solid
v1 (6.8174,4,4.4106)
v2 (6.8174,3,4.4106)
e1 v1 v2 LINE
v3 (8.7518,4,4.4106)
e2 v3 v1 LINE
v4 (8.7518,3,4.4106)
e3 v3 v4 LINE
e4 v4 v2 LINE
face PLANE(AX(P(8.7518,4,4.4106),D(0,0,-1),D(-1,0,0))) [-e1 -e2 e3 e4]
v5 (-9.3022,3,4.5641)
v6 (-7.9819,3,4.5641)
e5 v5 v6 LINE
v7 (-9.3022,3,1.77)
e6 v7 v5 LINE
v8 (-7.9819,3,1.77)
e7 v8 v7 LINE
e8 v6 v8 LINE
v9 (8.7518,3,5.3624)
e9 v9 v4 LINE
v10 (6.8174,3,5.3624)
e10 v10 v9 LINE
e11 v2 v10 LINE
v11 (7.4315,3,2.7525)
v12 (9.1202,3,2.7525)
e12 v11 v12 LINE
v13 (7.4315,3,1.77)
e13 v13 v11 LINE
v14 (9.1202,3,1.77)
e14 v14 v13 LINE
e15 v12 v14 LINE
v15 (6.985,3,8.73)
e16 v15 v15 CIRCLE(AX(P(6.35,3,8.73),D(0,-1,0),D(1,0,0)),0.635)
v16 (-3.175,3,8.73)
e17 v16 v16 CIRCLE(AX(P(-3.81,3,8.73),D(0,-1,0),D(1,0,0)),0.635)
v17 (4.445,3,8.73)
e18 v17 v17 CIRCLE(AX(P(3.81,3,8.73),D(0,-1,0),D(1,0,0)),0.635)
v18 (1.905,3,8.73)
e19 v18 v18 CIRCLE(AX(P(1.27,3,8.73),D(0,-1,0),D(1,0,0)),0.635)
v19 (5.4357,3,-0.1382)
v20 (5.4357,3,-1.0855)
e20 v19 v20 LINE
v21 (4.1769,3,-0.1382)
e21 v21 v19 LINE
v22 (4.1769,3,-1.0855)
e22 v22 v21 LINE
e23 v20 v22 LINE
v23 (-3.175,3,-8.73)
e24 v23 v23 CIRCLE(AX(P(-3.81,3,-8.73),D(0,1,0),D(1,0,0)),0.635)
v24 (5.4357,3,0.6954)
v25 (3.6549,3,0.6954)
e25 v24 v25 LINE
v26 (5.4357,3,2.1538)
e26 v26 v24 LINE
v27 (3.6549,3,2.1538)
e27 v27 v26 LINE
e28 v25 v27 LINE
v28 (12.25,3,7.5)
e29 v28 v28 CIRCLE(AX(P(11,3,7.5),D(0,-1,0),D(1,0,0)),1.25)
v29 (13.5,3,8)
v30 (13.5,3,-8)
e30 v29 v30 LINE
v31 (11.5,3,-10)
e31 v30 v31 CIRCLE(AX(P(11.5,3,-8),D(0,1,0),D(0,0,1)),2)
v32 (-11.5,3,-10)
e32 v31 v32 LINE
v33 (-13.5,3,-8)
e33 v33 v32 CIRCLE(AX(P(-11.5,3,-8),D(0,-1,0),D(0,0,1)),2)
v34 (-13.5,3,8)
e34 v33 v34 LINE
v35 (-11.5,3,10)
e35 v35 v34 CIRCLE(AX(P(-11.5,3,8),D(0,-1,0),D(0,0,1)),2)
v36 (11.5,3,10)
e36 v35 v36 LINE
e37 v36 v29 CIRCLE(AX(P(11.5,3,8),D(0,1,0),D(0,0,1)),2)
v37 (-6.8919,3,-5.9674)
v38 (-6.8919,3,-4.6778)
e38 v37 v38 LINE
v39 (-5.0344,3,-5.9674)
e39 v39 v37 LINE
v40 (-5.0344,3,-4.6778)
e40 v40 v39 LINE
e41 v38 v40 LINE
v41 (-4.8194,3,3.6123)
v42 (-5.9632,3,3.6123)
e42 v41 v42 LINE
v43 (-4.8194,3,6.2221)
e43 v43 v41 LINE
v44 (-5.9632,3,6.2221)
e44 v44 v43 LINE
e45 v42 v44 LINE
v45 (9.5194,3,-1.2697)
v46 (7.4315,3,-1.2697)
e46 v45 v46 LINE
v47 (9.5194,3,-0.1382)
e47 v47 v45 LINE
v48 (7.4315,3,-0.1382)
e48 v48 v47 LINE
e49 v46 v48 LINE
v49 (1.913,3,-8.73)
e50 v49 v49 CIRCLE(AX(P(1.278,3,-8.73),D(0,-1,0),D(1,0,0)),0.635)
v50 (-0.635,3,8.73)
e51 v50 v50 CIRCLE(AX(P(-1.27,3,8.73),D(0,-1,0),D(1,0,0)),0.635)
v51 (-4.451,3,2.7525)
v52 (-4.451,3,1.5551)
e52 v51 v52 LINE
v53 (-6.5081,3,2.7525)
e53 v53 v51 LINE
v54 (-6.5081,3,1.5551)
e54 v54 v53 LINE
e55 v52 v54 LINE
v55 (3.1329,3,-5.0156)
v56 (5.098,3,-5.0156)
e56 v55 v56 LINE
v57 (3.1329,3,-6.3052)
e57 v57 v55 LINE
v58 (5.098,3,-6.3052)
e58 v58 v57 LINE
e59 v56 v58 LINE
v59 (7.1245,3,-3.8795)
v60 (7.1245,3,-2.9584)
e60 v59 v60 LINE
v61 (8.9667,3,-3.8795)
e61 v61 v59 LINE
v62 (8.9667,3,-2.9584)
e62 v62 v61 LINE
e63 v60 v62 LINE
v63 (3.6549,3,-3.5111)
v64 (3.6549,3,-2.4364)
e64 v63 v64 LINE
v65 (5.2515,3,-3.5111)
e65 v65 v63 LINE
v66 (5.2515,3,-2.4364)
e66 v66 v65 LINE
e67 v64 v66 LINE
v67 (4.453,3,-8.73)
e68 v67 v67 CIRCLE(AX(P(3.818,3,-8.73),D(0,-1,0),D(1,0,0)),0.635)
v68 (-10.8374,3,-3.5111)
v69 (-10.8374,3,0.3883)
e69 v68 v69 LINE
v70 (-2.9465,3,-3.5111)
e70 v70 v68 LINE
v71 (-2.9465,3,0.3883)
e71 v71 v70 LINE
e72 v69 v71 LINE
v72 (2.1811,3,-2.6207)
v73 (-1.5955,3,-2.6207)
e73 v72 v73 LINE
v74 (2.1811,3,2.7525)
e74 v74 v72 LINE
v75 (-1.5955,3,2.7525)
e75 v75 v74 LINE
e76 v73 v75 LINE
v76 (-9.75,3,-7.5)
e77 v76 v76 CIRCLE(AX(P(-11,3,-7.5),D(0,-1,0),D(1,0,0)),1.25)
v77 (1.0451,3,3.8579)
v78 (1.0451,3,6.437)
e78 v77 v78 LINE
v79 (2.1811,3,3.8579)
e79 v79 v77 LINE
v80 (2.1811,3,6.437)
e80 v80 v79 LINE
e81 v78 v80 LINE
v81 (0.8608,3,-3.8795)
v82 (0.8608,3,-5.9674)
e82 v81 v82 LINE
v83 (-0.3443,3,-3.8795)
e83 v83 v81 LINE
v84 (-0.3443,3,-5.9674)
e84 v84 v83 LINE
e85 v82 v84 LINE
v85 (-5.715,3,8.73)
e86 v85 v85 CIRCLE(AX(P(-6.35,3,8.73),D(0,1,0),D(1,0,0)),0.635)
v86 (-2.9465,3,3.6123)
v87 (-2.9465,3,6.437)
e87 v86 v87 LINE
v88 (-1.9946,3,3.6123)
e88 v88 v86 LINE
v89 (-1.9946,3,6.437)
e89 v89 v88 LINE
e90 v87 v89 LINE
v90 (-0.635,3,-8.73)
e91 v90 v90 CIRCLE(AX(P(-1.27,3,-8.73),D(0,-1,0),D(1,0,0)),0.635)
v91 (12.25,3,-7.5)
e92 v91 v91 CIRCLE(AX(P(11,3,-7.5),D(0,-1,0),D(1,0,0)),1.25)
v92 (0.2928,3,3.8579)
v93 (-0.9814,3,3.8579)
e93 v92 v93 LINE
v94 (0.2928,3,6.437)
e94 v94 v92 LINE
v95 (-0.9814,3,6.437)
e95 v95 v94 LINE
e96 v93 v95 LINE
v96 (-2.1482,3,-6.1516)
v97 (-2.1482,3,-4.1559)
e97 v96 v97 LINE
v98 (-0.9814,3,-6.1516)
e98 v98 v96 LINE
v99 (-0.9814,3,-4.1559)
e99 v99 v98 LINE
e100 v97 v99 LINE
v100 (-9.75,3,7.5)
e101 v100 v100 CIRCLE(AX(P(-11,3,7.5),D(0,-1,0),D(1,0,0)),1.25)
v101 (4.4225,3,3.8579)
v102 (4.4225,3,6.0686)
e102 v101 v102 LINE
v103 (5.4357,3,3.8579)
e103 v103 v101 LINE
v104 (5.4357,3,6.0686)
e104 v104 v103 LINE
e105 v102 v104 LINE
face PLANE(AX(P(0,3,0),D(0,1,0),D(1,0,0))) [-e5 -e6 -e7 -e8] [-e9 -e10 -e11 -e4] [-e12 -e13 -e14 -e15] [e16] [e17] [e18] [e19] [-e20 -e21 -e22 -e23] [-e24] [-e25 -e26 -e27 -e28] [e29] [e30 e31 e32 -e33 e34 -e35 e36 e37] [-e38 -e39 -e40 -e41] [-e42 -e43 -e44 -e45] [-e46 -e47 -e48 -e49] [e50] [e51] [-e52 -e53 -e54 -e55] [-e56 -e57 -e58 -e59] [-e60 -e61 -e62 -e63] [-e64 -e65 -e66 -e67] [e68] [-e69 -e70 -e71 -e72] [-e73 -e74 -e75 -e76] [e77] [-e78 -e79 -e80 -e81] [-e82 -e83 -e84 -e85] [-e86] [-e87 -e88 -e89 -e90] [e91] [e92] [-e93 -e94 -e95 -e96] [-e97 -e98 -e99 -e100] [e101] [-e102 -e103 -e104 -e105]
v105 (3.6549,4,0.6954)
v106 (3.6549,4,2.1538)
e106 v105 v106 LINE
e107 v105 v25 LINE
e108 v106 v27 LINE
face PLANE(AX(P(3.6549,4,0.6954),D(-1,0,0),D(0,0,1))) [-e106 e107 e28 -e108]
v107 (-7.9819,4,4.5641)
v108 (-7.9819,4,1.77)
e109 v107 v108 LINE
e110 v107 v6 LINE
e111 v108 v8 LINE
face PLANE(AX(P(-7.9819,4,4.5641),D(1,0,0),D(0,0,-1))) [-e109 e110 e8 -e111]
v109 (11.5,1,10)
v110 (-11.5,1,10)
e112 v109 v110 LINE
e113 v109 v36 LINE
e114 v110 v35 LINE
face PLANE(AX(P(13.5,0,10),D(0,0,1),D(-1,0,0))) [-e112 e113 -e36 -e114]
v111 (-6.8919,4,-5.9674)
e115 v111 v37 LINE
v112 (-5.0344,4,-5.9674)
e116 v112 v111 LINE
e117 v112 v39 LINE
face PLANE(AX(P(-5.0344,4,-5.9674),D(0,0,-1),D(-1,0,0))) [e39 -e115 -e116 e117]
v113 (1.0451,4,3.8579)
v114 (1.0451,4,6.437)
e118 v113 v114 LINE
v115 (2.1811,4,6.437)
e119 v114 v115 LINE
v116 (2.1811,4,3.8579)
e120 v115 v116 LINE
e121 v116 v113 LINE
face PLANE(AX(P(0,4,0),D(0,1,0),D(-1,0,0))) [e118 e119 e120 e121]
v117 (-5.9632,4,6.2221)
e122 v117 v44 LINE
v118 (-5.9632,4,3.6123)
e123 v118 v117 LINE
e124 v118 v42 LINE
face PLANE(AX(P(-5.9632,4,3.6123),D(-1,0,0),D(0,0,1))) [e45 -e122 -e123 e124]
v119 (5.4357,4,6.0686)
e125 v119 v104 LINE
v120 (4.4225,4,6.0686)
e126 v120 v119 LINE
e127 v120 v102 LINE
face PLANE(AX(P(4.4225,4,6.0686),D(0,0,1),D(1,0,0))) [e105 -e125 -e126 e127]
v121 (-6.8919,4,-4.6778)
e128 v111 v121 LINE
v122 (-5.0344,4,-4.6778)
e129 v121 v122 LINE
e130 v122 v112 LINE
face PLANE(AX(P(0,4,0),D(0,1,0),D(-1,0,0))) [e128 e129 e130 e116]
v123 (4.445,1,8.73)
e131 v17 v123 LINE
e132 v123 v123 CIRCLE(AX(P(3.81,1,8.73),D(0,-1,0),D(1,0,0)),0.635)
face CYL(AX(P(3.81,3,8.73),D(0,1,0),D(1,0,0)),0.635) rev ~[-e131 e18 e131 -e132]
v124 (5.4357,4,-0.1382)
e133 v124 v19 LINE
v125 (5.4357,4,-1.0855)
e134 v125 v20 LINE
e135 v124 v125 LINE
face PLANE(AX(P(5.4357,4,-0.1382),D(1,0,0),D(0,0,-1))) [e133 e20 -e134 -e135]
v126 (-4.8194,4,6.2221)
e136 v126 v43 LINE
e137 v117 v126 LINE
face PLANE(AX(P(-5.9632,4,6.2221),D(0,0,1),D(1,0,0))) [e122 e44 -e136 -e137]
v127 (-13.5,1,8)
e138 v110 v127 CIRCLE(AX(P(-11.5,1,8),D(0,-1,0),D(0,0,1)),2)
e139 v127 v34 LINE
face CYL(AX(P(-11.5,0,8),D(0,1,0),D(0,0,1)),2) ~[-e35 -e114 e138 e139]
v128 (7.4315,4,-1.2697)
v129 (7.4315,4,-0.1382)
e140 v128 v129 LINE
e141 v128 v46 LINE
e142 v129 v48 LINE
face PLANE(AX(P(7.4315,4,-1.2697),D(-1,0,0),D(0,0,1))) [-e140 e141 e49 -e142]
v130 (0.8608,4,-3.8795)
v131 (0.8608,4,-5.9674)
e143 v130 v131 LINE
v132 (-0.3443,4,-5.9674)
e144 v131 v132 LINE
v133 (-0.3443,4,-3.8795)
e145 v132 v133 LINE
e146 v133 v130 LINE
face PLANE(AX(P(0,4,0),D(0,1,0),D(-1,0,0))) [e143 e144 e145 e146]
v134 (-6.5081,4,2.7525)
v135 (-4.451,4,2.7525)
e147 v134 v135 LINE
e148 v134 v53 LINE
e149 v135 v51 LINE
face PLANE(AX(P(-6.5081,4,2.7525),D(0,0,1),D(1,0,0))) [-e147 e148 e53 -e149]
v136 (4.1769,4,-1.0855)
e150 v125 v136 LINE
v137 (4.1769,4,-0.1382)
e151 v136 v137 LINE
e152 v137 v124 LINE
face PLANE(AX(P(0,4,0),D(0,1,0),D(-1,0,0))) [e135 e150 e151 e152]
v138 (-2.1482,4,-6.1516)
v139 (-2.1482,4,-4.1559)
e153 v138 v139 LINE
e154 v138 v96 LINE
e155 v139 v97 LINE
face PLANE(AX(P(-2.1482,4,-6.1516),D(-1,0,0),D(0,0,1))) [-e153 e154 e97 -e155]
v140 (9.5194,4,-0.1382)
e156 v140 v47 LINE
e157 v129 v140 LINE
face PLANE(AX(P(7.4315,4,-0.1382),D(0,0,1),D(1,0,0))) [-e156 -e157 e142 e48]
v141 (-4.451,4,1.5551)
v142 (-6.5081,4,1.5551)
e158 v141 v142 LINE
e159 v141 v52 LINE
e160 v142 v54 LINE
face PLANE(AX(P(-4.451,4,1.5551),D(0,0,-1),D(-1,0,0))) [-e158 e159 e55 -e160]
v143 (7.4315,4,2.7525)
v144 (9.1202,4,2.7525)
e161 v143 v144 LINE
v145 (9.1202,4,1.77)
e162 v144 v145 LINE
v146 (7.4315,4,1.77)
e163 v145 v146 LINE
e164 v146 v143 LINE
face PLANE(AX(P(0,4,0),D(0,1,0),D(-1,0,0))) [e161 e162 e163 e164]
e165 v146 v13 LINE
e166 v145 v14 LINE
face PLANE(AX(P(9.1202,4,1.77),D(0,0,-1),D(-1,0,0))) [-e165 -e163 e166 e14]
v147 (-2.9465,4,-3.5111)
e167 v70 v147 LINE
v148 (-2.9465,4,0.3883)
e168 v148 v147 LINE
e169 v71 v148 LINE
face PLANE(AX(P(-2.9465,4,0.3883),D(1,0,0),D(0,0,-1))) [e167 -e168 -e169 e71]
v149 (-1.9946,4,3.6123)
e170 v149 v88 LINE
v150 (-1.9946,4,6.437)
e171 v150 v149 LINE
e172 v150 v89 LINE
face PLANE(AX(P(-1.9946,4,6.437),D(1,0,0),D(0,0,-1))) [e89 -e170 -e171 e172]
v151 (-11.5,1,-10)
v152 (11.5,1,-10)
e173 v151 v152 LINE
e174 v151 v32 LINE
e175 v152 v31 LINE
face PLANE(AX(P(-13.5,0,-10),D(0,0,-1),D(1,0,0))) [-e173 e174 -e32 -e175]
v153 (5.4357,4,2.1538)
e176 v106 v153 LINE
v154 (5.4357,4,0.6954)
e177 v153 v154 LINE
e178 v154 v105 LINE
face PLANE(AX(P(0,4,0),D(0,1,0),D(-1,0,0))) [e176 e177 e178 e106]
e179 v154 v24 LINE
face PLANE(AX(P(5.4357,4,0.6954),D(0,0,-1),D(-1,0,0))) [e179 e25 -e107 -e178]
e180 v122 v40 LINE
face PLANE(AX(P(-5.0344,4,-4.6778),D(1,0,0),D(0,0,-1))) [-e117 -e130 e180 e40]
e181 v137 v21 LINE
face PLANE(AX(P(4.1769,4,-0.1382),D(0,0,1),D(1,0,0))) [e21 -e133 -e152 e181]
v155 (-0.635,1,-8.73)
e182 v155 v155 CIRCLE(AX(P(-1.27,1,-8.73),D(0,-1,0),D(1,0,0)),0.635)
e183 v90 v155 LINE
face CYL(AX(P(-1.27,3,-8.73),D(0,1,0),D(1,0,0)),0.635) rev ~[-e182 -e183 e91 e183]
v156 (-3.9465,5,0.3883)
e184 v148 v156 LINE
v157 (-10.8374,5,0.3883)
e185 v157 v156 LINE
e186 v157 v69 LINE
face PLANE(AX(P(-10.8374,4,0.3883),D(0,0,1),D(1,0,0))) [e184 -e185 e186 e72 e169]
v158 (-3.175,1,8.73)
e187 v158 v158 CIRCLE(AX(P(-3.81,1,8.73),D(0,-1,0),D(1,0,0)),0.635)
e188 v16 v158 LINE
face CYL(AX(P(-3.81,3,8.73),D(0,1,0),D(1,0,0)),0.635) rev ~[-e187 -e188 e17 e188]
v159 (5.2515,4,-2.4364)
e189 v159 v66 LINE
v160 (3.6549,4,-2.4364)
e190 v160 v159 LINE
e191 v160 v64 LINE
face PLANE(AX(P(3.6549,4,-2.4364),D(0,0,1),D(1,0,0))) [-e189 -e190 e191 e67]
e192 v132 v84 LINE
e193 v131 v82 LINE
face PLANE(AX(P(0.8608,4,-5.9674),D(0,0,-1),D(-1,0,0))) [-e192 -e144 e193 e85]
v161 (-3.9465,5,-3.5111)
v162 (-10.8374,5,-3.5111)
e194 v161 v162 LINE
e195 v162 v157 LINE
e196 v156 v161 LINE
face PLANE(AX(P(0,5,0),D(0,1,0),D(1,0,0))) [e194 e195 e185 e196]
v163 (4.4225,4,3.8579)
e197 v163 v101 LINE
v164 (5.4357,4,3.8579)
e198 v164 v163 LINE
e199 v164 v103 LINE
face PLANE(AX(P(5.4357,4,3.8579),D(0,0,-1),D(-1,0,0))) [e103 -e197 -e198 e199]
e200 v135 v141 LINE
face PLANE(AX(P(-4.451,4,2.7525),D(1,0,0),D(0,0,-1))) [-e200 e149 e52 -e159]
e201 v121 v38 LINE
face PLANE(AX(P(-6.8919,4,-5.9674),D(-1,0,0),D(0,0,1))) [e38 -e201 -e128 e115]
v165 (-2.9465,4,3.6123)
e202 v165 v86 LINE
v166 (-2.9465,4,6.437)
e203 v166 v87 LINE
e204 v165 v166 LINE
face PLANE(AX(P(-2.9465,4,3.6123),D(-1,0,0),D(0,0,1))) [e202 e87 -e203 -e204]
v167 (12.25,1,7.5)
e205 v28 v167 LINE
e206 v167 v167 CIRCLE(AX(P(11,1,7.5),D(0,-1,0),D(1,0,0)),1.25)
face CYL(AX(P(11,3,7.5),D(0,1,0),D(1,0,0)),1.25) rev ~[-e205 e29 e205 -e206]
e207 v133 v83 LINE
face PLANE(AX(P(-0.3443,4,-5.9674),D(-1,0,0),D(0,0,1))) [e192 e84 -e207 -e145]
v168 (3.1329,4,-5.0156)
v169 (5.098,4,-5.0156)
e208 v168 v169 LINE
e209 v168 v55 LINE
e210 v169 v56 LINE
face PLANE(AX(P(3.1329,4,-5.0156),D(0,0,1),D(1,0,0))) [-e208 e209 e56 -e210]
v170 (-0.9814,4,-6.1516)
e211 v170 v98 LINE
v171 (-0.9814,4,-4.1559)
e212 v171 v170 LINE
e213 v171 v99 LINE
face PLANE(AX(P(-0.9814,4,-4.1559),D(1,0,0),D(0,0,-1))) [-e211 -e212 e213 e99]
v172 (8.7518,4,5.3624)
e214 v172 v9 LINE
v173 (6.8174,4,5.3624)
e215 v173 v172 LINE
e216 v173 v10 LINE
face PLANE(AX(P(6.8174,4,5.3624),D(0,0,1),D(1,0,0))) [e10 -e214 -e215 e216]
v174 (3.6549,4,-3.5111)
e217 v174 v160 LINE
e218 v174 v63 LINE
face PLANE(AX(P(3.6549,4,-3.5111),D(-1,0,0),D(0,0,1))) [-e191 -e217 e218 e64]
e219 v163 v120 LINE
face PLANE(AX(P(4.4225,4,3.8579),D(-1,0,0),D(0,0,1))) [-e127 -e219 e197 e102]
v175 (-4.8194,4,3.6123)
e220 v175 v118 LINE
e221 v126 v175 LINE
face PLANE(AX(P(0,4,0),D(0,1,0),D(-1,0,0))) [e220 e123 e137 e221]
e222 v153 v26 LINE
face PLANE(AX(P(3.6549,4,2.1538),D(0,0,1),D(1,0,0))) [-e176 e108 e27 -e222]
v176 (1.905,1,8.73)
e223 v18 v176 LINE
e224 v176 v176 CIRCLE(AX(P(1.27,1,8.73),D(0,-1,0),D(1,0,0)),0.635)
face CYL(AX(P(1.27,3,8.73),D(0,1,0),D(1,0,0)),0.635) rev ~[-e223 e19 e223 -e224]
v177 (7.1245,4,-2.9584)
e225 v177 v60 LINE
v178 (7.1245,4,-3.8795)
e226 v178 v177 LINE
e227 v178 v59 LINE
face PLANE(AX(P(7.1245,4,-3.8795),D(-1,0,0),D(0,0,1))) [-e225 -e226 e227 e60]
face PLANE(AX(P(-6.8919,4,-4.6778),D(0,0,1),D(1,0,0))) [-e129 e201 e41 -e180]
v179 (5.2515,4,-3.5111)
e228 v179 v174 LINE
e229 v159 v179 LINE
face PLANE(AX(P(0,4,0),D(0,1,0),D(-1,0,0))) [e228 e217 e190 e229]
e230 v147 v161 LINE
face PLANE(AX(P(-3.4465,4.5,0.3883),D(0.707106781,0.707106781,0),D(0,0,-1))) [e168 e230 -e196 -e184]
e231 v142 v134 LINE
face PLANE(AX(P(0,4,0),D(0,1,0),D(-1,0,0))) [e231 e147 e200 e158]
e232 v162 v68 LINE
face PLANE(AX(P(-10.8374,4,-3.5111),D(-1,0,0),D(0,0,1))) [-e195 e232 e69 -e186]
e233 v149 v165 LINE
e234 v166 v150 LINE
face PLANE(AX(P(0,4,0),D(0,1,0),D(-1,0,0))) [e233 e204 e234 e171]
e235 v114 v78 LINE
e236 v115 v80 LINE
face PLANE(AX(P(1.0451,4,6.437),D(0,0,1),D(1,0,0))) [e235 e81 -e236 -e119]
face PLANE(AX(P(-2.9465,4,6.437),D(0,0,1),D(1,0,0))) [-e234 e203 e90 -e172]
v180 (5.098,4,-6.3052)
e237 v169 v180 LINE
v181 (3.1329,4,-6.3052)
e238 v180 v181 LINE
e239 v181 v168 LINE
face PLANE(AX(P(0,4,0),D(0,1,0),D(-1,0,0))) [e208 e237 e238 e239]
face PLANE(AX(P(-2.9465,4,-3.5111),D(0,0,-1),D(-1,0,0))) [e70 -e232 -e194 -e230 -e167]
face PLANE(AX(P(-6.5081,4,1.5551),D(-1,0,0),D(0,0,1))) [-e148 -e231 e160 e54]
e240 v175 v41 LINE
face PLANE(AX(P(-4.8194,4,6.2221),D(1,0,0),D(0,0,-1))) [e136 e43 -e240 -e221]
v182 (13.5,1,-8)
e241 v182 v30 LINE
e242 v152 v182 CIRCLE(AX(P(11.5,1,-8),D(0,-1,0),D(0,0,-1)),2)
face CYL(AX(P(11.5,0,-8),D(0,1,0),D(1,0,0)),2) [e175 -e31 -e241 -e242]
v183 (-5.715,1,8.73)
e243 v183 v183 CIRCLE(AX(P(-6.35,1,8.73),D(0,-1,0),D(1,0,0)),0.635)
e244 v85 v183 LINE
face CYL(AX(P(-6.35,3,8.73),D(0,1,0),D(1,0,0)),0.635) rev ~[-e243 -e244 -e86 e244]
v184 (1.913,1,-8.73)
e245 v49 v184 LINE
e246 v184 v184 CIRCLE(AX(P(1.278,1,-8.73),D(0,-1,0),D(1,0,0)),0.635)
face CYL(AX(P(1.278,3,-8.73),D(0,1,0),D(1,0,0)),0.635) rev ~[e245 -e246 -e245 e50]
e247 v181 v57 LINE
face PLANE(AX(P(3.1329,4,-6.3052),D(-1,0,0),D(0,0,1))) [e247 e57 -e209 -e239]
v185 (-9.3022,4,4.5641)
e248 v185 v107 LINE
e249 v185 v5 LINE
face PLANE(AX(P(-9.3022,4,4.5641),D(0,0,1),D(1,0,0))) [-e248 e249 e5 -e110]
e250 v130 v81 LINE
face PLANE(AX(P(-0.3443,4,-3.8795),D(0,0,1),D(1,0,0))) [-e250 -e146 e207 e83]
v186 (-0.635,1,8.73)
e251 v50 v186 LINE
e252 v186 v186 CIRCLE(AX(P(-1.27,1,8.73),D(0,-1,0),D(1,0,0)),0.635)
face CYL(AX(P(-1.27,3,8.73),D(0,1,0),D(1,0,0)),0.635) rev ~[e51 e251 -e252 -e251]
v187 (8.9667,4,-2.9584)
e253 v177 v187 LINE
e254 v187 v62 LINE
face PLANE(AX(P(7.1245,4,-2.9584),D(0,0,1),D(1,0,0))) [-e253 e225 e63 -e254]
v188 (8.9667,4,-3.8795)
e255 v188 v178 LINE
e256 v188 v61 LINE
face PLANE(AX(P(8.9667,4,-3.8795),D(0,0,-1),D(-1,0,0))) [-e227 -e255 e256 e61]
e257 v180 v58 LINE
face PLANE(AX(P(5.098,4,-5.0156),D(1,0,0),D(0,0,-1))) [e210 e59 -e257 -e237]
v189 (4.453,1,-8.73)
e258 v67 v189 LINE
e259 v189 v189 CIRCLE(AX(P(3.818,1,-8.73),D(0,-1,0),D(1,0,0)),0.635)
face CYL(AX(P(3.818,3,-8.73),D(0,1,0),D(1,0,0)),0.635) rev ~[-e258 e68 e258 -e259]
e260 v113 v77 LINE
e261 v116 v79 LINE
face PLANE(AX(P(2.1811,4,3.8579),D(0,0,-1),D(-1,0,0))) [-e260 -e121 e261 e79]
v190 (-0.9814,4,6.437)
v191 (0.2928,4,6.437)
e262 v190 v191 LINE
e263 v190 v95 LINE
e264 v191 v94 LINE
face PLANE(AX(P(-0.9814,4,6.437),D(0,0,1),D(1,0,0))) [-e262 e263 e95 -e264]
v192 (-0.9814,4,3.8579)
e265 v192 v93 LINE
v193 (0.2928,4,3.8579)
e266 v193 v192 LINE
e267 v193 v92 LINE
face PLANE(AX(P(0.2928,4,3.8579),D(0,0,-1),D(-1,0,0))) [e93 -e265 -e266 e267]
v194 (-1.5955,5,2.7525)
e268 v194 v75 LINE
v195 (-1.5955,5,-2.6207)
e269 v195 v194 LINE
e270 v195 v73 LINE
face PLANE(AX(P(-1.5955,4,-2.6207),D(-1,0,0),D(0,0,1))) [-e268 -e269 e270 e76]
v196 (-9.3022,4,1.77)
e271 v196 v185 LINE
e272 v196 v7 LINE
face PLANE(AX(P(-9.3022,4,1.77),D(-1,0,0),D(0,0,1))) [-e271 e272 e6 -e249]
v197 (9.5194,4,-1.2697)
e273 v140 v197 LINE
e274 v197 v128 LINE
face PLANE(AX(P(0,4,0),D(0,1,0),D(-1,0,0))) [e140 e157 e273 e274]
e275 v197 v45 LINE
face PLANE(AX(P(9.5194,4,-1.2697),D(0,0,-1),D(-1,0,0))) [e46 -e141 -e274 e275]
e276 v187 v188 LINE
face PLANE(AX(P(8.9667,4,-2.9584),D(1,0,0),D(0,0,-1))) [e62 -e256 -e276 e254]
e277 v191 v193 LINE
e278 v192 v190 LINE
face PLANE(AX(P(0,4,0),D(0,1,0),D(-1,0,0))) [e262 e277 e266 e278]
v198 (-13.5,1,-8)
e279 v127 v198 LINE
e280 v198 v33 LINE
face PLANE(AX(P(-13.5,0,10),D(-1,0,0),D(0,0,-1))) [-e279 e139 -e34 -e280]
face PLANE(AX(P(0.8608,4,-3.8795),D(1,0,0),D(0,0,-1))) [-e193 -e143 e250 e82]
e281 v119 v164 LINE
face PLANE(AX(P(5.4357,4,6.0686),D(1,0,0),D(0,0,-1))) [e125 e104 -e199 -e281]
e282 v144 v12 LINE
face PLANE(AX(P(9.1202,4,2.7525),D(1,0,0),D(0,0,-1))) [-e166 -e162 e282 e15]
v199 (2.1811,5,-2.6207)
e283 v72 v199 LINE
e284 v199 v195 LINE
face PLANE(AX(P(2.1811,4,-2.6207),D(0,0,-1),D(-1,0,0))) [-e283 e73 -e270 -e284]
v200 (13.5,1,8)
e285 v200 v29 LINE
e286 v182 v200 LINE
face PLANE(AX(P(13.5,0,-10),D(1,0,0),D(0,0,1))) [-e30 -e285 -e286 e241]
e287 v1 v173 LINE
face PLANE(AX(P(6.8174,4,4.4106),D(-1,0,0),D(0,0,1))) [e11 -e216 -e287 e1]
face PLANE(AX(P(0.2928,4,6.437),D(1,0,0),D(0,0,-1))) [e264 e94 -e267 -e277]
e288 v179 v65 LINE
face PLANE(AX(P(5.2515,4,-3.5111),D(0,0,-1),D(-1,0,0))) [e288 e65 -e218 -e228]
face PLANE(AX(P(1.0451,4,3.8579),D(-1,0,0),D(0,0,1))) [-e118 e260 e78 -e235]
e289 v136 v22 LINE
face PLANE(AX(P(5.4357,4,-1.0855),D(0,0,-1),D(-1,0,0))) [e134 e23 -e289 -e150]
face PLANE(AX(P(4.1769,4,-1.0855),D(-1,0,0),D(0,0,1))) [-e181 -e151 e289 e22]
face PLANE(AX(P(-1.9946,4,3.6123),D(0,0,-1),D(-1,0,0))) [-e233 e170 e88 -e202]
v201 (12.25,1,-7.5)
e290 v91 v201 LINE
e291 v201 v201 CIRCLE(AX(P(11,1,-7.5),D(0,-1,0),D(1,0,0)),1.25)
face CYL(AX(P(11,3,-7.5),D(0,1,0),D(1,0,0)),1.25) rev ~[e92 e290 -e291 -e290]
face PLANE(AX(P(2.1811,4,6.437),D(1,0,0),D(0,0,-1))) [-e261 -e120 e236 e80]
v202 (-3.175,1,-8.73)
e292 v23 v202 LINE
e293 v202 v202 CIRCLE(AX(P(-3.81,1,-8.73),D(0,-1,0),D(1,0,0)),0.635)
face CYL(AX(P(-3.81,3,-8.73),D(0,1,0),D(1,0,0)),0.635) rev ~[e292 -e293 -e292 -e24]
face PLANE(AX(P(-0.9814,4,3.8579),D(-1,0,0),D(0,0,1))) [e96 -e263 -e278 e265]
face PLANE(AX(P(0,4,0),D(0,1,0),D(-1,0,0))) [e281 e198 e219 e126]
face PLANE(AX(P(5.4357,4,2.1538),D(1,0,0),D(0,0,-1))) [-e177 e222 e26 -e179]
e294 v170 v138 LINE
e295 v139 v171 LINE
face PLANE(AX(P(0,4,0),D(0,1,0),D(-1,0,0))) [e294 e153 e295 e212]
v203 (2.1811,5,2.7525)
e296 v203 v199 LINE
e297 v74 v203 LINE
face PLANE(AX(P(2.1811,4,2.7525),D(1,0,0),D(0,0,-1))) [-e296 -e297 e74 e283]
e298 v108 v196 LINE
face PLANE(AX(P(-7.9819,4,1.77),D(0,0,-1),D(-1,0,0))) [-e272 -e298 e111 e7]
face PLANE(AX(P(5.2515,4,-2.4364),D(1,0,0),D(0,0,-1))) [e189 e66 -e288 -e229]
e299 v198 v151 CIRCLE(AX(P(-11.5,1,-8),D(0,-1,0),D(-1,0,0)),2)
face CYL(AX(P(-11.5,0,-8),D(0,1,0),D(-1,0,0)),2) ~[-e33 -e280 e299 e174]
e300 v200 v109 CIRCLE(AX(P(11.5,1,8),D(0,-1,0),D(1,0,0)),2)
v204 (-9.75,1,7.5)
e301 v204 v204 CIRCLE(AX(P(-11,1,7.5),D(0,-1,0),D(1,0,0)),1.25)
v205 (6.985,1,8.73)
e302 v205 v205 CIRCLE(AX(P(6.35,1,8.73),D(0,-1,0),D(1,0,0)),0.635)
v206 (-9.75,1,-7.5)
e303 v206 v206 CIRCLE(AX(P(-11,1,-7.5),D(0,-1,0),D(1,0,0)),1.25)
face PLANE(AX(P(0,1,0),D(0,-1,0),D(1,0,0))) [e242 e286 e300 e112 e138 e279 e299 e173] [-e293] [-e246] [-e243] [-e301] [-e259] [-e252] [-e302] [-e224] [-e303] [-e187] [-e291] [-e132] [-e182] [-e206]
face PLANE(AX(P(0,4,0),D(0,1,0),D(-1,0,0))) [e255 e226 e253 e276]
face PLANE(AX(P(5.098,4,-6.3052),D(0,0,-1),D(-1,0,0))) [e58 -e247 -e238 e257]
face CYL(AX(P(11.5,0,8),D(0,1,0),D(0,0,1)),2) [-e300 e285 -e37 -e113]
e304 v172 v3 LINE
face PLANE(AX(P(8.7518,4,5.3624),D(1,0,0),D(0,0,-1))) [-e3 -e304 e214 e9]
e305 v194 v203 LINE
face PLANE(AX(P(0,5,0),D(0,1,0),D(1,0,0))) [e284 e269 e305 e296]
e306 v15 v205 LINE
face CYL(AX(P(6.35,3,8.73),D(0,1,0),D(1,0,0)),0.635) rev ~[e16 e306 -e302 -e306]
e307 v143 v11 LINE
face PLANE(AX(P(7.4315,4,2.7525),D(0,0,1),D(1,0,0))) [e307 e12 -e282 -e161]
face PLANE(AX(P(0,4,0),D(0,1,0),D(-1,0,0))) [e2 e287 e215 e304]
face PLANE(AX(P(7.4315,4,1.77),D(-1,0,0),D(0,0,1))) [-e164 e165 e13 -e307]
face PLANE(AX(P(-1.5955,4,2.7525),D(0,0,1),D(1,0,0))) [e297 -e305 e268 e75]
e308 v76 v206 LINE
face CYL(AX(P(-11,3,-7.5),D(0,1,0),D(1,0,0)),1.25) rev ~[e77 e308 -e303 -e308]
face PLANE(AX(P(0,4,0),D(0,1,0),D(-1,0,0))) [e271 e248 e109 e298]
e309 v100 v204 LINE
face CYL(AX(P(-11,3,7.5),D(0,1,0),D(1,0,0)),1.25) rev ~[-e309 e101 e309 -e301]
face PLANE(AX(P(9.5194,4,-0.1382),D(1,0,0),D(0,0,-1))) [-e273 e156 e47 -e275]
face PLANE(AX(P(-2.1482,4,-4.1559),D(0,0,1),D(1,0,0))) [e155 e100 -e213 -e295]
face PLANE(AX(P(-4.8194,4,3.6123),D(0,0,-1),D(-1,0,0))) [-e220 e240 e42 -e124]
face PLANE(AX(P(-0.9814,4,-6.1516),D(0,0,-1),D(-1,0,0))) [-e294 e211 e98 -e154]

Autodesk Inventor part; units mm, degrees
ref_plane "YZ Plane" through (0, 0, 0) normal (1, 0, 0) x (0, 1, 0)
ref_plane "XZ Plane" through (0, 0, 0) normal (0, 1, 0) x (-1, 0, 0)
ref_plane "XY Plane" through (0, 0, 0) normal (0, 0, 1) x (1, 0, 0)
sketch "Sketch1" plane through (0, 0, 0) normal (0, 1, 0) x (-1, 0, 0)
  line L0 (-13.5, 10) -> (13.5, 10)
  line L1 (13.5, 10) -> (13.5, -10)
  line L2 (13.5, -10) -> (-13.5, -10)
  line L3 (-13.5, -10) -> (-13.5, 10)
  line L4 (-13.5, 10) -> (13.5, -10) construction
  line L5 (13.5, 10) -> (-13.5, -10) construction
  point P0 (0, 0)
  dimension "d0" = 27
  dimension "d1" = 20
extrude "Extrusion1" add sketch "Sketch1" along normal blind 4
sketch "Sketch2" plane through (0, 4, 0) normal (0, 1, 0) x (1, 0, 0)
  line L0 (-14.3189, -19.5529) -> (-14.3189, 19.8293) construction
  line L1 (-14.3189, 19.8293) -> (15.238, 19.8293) construction
  line L2 (15.238, 19.8293) -> (15.238, -19.5529) construction
  line L3 (15.238, -19.5529) -> (-14.3189, -19.5529) construction
  line L4 (-13.5, -10) -> (13.5, -10) projected
  line L5 (13.5, -10) -> (13.5, 10) projected
  line L6 (13.5, 10) -> (-13.5, 10) projected
  line L7 (-13.5, 10) -> (-13.5, -10) projected
  line L8 (-10.8374, -0.3883) -> (-2.9465, -0.3883)
  line L9 (-2.9465, -0.3883) -> (-2.9465, 3.5111)
  line L10 (-2.9465, 3.5111) -> (-10.8374, 3.5111)
  line L11 (-10.8374, 3.5111) -> (-10.8374, -0.3883)
  line L12 (-1.5955, -2.7525) -> (2.1811, -2.7525)
  line L13 (2.1811, -2.7525) -> (2.1811, 2.6207)
  line L14 (2.1811, 2.6207) -> (-1.5955, 2.6207)
  line L15 (-1.5955, 2.6207) -> (-1.5955, -2.7525)
  line L16 (-6.8919, 4.6778) -> (-5.0344, 4.6778)
  line L17 (-5.0344, 4.6778) -> (-5.0344, 5.9674)
  line L18 (-5.0344, 5.9674) -> (-6.8919, 5.9674)
  line L19 (-6.8919, 5.9674) -> (-6.8919, 4.6778)
  line L20 (-6.5081, -2.7525) -> (-4.451, -2.7525)
  line L21 (-4.451, -2.7525) -> (-4.451, -1.5551)
  line L22 (-4.451, -1.5551) -> (-6.5081, -1.5551)
  line L23 (-6.5081, -1.5551) -> (-6.5081, -2.7525)
  line L24 (-9.3022, -4.5641) -> (-7.9819, -4.5641)
  line L25 (-7.9819, -4.5641) -> (-7.9819, -1.77)
  line L26 (-7.9819, -1.77) -> (-9.3022, -1.77)
  line L27 (-9.3022, -1.77) -> (-9.3022, -4.5641)
  line L28 (-5.9632, -6.2221) -> (-4.8194, -6.2221)
  line L29 (-4.8194, -6.2221) -> (-4.8194, -3.6123)
  line L30 (-4.8194, -3.6123) -> (-5.9632, -3.6123)
  line L31 (-5.9632, -3.6123) -> (-5.9632, -6.2221)
  line L32 (-2.9465, -6.437) -> (-1.9946, -6.437)
  line L33 (-1.9946, -6.437) -> (-1.9946, -3.6123)
  line L34 (-1.9946, -3.6123) -> (-2.9465, -3.6123)
  line L35 (-2.9465, -3.6123) -> (-2.9465, -6.437)
  line L36 (-0.9814, -6.437) -> (0.2928, -6.437)
  line L37 (0.2928, -6.437) -> (0.2928, -3.8579)
  line L38 (0.2928, -3.8579) -> (-0.9814, -3.8579)
  line L39 (-0.9814, -3.8579) -> (-0.9814, -6.437)
  line L40 (1.0451, -6.437) -> (2.1811, -6.437)
  line L41 (2.1811, -6.437) -> (2.1811, -3.8579)
  line L42 (2.1811, -3.8579) -> (1.0451, -3.8579)
  line L43 (1.0451, -3.8579) -> (1.0451, -6.437)
  line L44 (4.4225, -6.0686) -> (5.4357, -6.0686)
  line L45 (5.4357, -6.0686) -> (5.4357, -3.8579)
  line L46 (5.4357, -3.8579) -> (4.4225, -3.8579)
  line L47 (4.4225, -3.8579) -> (4.4225, -6.0686)
  line L48 (6.8174, -5.3624) -> (8.7518, -5.3624)
  line L49 (8.7518, -5.3624) -> (8.7518, -4.4106)
  line L50 (8.7518, -4.4106) -> (6.8174, -4.4106)
  line L51 (6.8174, -4.4106) -> (6.8174, -5.3624)
  line L52 (7.4315, -2.7525) -> (9.1202, -2.7525)
  line L53 (9.1202, -2.7525) -> (9.1202, -1.77)
  line L54 (9.1202, -1.77) -> (7.4315, -1.77)
  line L55 (7.4315, -1.77) -> (7.4315, -2.7525)
  line L56 (7.4315, 0.1382) -> (9.5194, 0.1382)
  line L57 (9.5194, 0.1382) -> (9.5194, 1.2697)
  line L58 (9.5194, 1.2697) -> (7.4315, 1.2697)
  line L59 (7.4315, 1.2697) -> (7.4315, 0.1382)
  line L60 (7.1245, 2.9584) -> (8.9667, 2.9584)
  line L61 (8.9667, 2.9584) -> (8.9667, 3.8795)
  line L62 (8.9667, 3.8795) -> (7.1245, 3.8795)
  line L63 (7.1245, 3.8795) -> (7.1245, 2.9584)
  line L64 (4.1769, 0.1382) -> (5.4357, 0.1382)
  line L65 (5.4357, 0.1382) -> (5.4357, 1.0855)
  line L66 (5.4357, 1.0855) -> (4.1769, 1.0855)
  line L67 (4.1769, 1.0855) -> (4.1769, 0.1382)
  line L68 (3.6549, -2.1538) -> (5.4357, -2.1538)
  line L69 (5.4357, -2.1538) -> (5.4357, -0.6954)
  line L70 (5.4357, -0.6954) -> (3.6549, -0.6954)
  line L71 (3.6549, -0.6954) -> (3.6549, -2.1538)
  line L72 (3.6549, 2.4364) -> (5.2515, 2.4364)
  line L73 (5.2515, 2.4364) -> (5.2515, 3.5111)
  line L74 (5.2515, 3.5111) -> (3.6549, 3.5111)
  line L75 (3.6549, 3.5111) -> (3.6549, 2.4364)
  line L76 (3.1329, 5.0156) -> (5.098, 5.0156)
  line L77 (5.098, 5.0156) -> (5.098, 6.3052)
  line L78 (5.098, 6.3052) -> (3.1329, 6.3052)
  line L79 (3.1329, 6.3052) -> (3.1329, 5.0156)
  line L80 (-0.3443, 3.8795) -> (0.8608, 3.8795)
  line L81 (0.8608, 3.8795) -> (0.8608, 5.9674)
  line L82 (0.8608, 5.9674) -> (-0.3443, 5.9674)
  line L83 (-0.3443, 5.9674) -> (-0.3443, 3.8795)
  line L84 (-2.1482, 4.1559) -> (-0.9814, 4.1559)
  line L85 (-0.9814, 4.1559) -> (-0.9814, 6.1516)
  line L86 (-0.9814, 6.1516) -> (-2.1482, 6.1516)
  line L87 (-2.1482, 6.1516) -> (-2.1482, 4.1559)
extrude "Extrusion2" cut sketch "Sketch2" against normal blind 1
sketch "Sketch3" plane through (0, 3, 0) normal (0, 1, 0) x (1, 0, 0)
  line L0 (11, -7.5) -> (-11, -7.5)
  line L1 (-11, -7.5) -> (-11, 7.5)
  line L2 (-11, 7.5) -> (11, 7.5)
  line L3 (11, 7.5) -> (11, -7.5)
  line L4 (11, -7.5) -> (-11, 7.5) construction
  line L5 (-11, -7.5) -> (11, 7.5) construction
  circle A0 centre (-11, -7.5) radius 1.25
  circle A1 centre (11, -7.5) radius 1.25
  circle A2 centre (11, 7.5) radius 1.25
  circle A3 centre (-11, 7.5) radius 1.25
  point P0 (0, 0)
  dimension "d31" = 22
  dimension "d32" = 15
  dimension "d33" = 2.5
  dimension "d34" = 2.5
  dimension "d35" = 2.5
  dimension "d36" = 2.5
extrude "Extrusion3" cut sketch "Sketch3" against normal blind 5 contours A0 L1 L0 | L0 L1 A0 | A1 L3 L0 | L0 L3 A1 | A3 L2 L1 | L1 L2 A3 | A2 L2 L3 | L3 L2 A2
sketch "Sketch4" plane through (0, 3, 0) normal (0, 1, 0) x (1, 0, 0)
  circle A0 centre (-11, 7.5) radius 1.25 projected
  circle A1 centre (11, -7.5) radius 1.25 projected
  circle A2 centre (-11, -7.5) radius 1.25 projected
  circle A3 centre (11, 7.5) radius 1.25 projected
  line L0 (-2.9465, -0.3883) -> (-2.9465, 3.5111) projected
  line L1 (-10.8374, -0.3883) -> (-2.9465, -0.3883) projected
  line L2 (-10.8374, 3.5111) -> (-10.8374, -0.3883) projected
  line L3 (-2.9465, 3.5111) -> (-10.8374, 3.5111) projected
  line L4 (2.1811, -2.7525) -> (2.1811, 2.6207) projected
  line L5 (-1.5955, -2.7525) -> (2.1811, -2.7525) projected
  line L6 (-1.5955, 2.6207) -> (-1.5955, -2.7525) projected
  line L7 (2.1811, 2.6207) -> (-1.5955, 2.6207) projected
  line L8 (-7.9819, -4.5641) -> (-7.9819, -1.77) projected
  line L9 (-9.3022, -4.5641) -> (-7.9819, -4.5641) projected
  line L10 (-9.3022, -1.77) -> (-9.3022, -4.5641) projected
  line L11 (-7.9819, -1.77) -> (-9.3022, -1.77) projected
  line L12 (0.2928, -6.437) -> (0.2928, -3.8579) projected
  line L13 (-0.9814, -6.437) -> (0.2928, -6.437) projected
  line L14 (-0.9814, -3.8579) -> (-0.9814, -6.437) projected
  line L15 (0.2928, -3.8579) -> (-0.9814, -3.8579) projected
  line L16 (-4.8194, -6.2221) -> (-4.8194, -3.6123) projected
  line L17 (-5.9632, -6.2221) -> (-4.8194, -6.2221) projected
  line L18 (-5.9632, -3.6123) -> (-5.9632, -6.2221) projected
  line L19 (-4.8194, -3.6123) -> (-5.9632, -3.6123) projected
  line L20 (2.1811, -6.437) -> (2.1811, -3.8579) projected
  line L21 (1.0451, -6.437) -> (2.1811, -6.437) projected
  line L22 (1.0451, -3.8579) -> (1.0451, -6.437) projected
  line L23 (2.1811, -3.8579) -> (1.0451, -3.8579) projected
  line L24 (-1.9946, -6.437) -> (-1.9946, -3.6123) projected
  line L25 (-2.9465, -6.437) -> (-1.9946, -6.437) projected
  line L26 (-2.9465, -3.6123) -> (-2.9465, -6.437) projected
  line L27 (-1.9946, -3.6123) -> (-2.9465, -3.6123) projected
  line L28 (5.4357, -2.1538) -> (5.4357, -0.6954) projected
  line L29 (3.6549, -2.1538) -> (5.4357, -2.1538) projected
  line L30 (3.6549, -0.6954) -> (3.6549, -2.1538) projected
  line L31 (5.4357, -0.6954) -> (3.6549, -0.6954) projected
  line L32 (5.098, 5.0156) -> (5.098, 6.3052) projected
  line L33 (3.1329, 5.0156) -> (5.098, 5.0156) projected
  line L34 (3.1329, 6.3052) -> (3.1329, 5.0156) projected
  line L35 (5.098, 6.3052) -> (3.1329, 6.3052) projected
  line L36 (0.8608, 3.8795) -> (0.8608, 5.9674) projected
  line L37 (-0.3443, 3.8795) -> (0.8608, 3.8795) projected
  line L38 (-0.3443, 5.9674) -> (-0.3443, 3.8795) projected
  line L39 (0.8608, 5.9674) -> (-0.3443, 5.9674) projected
  line L40 (-4.451, -2.7525) -> (-4.451, -1.5551) projected
  line L41 (-6.5081, -2.7525) -> (-4.451, -2.7525) projected
  line L42 (-6.5081, -1.5551) -> (-6.5081, -2.7525) projected
  line L43 (-4.451, -1.5551) -> (-6.5081, -1.5551) projected
  line L44 (-5.0344, 4.6778) -> (-5.0344, 5.9674) projected
  line L45 (-6.8919, 4.6778) -> (-5.0344, 4.6778) projected
  line L46 (-6.8919, 5.9674) -> (-6.8919, 4.6778) projected
  line L47 (-5.0344, 5.9674) -> (-6.8919, 5.9674) projected
  line L48 (9.5194, 0.1382) -> (9.5194, 1.2697) projected
  line L49 (7.4315, 0.1382) -> (9.5194, 0.1382) projected
  line L50 (7.4315, 1.2697) -> (7.4315, 0.1382) projected
  line L51 (9.5194, 1.2697) -> (7.4315, 1.2697) projected
  line L52 (-0.9814, 4.1559) -> (-0.9814, 6.1516) projected
  line L53 (-2.1482, 4.1559) -> (-0.9814, 4.1559) projected
  line L54 (-2.1482, 6.1516) -> (-2.1482, 4.1559) projected
  line L55 (-0.9814, 6.1516) -> (-2.1482, 6.1516) projected
  line L56 (5.4357, -6.0686) -> (5.4357, -3.8579) projected
  line L57 (4.4225, -6.0686) -> (5.4357, -6.0686) projected
  line L58 (4.4225, -3.8579) -> (4.4225, -6.0686) projected
  line L59 (5.4357, -3.8579) -> (4.4225, -3.8579) projected
  line L60 (8.7518, -5.3624) -> (8.7518, -4.4106) projected
  line L61 (6.8174, -5.3624) -> (8.7518, -5.3624) projected
  line L62 (6.8174, -4.4106) -> (6.8174, -5.3624) projected
  line L63 (8.7518, -4.4106) -> (6.8174, -4.4106) projected
  line L64 (5.2515, 2.4364) -> (5.2515, 3.5111) projected
  line L65 (3.6549, 2.4364) -> (5.2515, 2.4364) projected
  line L66 (3.6549, 3.5111) -> (3.6549, 2.4364) projected
  line L67 (5.2515, 3.5111) -> (3.6549, 3.5111) projected
  line L68 (8.9667, 2.9584) -> (8.9667, 3.8795) projected
  line L69 (7.1245, 2.9584) -> (8.9667, 2.9584) projected
  line L70 (7.1245, 3.8795) -> (7.1245, 2.9584) projected
  line L71 (8.9667, 3.8795) -> (7.1245, 3.8795) projected
  line L72 (9.1202, -2.7525) -> (9.1202, -1.77) projected
  line L73 (7.4315, -2.7525) -> (9.1202, -2.7525) projected
  line L74 (7.4315, -1.77) -> (7.4315, -2.7525) projected
  line L75 (9.1202, -1.77) -> (7.4315, -1.77) projected
  line L76 (5.4357, 0.1382) -> (5.4357, 1.0855) projected
  line L77 (4.1769, 0.1382) -> (5.4357, 0.1382) projected
  line L78 (4.1769, 1.0855) -> (4.1769, 0.1382) projected
  line L79 (5.4357, 1.0855) -> (4.1769, 1.0855) projected
  line L80 (13.5, -10) -> (-13.5, -10) projected
  line L81 (13.5, 10) -> (13.5, -10) projected
  line L82 (-13.5, 10) -> (13.5, 10) projected
  line L83 (-13.5, -10) -> (-13.5, 10) projected
  line L84 (13.5, -10) -> (-13.5, -10) projected
  line L85 (0, -10) -> (0, -8.73)
  line L86 (0, -8.73) -> (-1.27, -8.73)
  line L87 (-1.27, -8.73) -> (-3.81, -8.73)
  line L88 (-3.81, -8.73) -> (-6.35, -8.73)
  line L89 (0, -8.73) -> (1.27, -8.73)
  line L90 (1.27, -8.73) -> (3.81, -8.73)
  line L91 (3.81, -8.73) -> (6.35, -8.73)
  line L92 (0, 10) -> (0, 8.73)
  line L93 (0, 8.73) -> (1.278, 8.73)
  line L94 (1.278, 8.73) -> (3.818, 8.73)
  line L95 (0, 8.73) -> (-1.27, 8.73)
  line L96 (-1.27, 8.73) -> (-3.81, 8.73)
  circle A4 centre (-6.35, -8.73) radius 0.635
  circle A5 centre (-3.81, -8.73) radius 0.635
  circle A6 centre (-1.27, -8.73) radius 0.635
  circle A7 centre (1.27, -8.73) radius 0.635
  circle A8 centre (3.81, -8.73) radius 0.635
  circle A9 centre (6.35, -8.73) radius 0.635
  circle A10 centre (-3.81, 8.73) radius 0.635
  circle A11 centre (-1.27, 8.73) radius 0.635
  circle A12 centre (1.278, 8.73) radius 0.635
  circle A13 centre (3.818, 8.73) radius 0.635
  point P0 (0, 0)
  dimension "d39" = 1.27
  dimension "d40" = 1.27
  dimension "d41" = 2.54
  dimension "d42" = 2.54
  dimension "d44" = 1.27
  dimension "d45" = 2.54
  dimension "d46" = 2.54
  dimension "d48" = 1.27
  dimension "d49" = 1.278
  dimension "d50" = 2.54
  dimension "d51" = 1.27
  dimension "d52" = 2.54
  dimension "d54" = 1.27
  dimension "d55" = 1.27
  dimension "d56" = 1.27
  dimension "d57" = 1.27
  dimension "d58" = 1.27
  dimension "d59" = 1.27
  dimension "d61" = 1.27
  dimension "d62" = 1.27
  dimension "d63" = 1.27
  dimension "d64" = 1.27
extrude "Extrusion4" cut sketch "Sketch4" against normal blind 5 contours A13 | A12 L94 L93 | L93 L94 A12 | A10 | A11 L96 L95 | L95 L96 A11 | A4 | A5 L88 L87 | L87 L88 A5 | A6 L87 L86 | L86 L87 A6 | A9 | A8 L91 L90 | L90 L91 A8 | A7 L90 L89 | L89 L90 A7
fillet "Fillet1" radius 2 4 edges at (13.5, 1.5, 10) (13.5, 1.5, -10) (-13.5, 1.5, -10) (-13.5, 1.5, 10)
sketch "Sketch5" plane through (0, 0, 0) normal (0, -1, 0) x (1, 0, 0)
  arc A0 (-11.5, 10) -> (-13.5, 8) centre (-11.5, 8) ccw projected
  line L0 (-13.5, 8) -> (-13.5, -8) projected
  arc A1 (-13.5, -8) -> (-11.5, -10) centre (-11.5, -8) ccw projected
  line L1 (-11.5, -10) -> (11.5, -10) projected
  arc A2 (11.5, -10) -> (13.5, -8) centre (11.5, -8) ccw projected
  line L2 (13.5, -8) -> (13.5, 8) projected
  arc A3 (13.5, 8) -> (11.5, 10) centre (11.5, 8) ccw projected
  line L3 (11.5, 10) -> (-11.5, 10) projected
  circle A4 centre (1.278, -8.73) radius 0.635 projected
  circle A5 centre (-3.81, -8.73) radius 0.635 projected
  circle A6 centre (3.81, 8.73) radius 0.635 projected
  circle A7 centre (-1.27, 8.73) radius 0.635 projected
  circle A8 centre (-6.35, 8.73) radius 0.635 projected
  circle A9 centre (-3.81, 8.73) radius 0.635 projected
  circle A10 centre (1.27, 8.73) radius 0.635 projected
  circle A11 centre (6.35, 8.73) radius 0.635 projected
  circle A12 centre (-1.27, -8.73) radius 0.635 projected
  circle A13 centre (3.818, -8.73) radius 0.635 projected
  circle A14 centre (-11, -7.5) radius 1.25 projected
  circle A15 centre (11, 7.5) radius 1.25 projected
  circle A16 centre (-11, 7.5) radius 1.25 projected
  circle A17 centre (11, -7.5) radius 1.25 projected
  point P0 (0, 0)
extrude "Extrusion5" cut sketch "Sketch5" against normal blind 1
sketch "Sketch6" plane through (0, 4, 0) normal (0, 1, 0) x (1, 0, 0)
  line L0 (-2.9465, -0.3883) -> (-2.9465, 3.5111) projected
  line L1 (-2.9465, 3.5111) -> (-10.8374, 3.5111) projected
  line L2 (-10.8374, 3.5111) -> (-10.8374, -0.3883) projected
  line L3 (-10.8374, -0.3883) -> (-2.9465, -0.3883) projected
  line L4 (2.1811, -2.7525) -> (2.1811, 2.6207) projected
  line L5 (2.1811, 2.6207) -> (-1.5955, 2.6207) projected
  line L6 (-1.5955, 2.6207) -> (-1.5955, -2.7525) projected
  line L7 (-1.5955, -2.7525) -> (2.1811, -2.7525) projected
  point P0 (0, 0)
extrude "Extrusion6" add sketch "Sketch6" along normal blind 1
chamfer "Chamfer1" distance 1 angle 45 1 edges at (-2.9465, 5, -1.5614)
sketch "Sketch7" plane through (0, 3, 0) normal (0, 1, 0) x (1, 0, 0)
  circle A0 centre (-6.35, -8.73) radius 0.635 projected
  circle A1 centre (-3.81, -8.73) radius 0.635 projected
  circle A2 centre (-1.27, -8.73) radius 0.635 projected
  circle A3 centre (1.27, -8.73) radius 0.635 projected
  circle A4 centre (3.81, -8.73) radius 0.635 projected
  circle A5 centre (6.35, -8.73) radius 0.635 projected
  circle A6 centre (3.818, 8.73) radius 0.635 projected
  circle A7 centre (1.278, 8.73) radius 0.635 projected
  circle A8 centre (-1.27, 8.73) radius 0.635 projected
  circle A9 centre (-3.81, 8.73) radius 0.635 projected
  point P0 (0, 0)
properties part number "Adafruit 9-DOF Absolute Orientation IMU"
